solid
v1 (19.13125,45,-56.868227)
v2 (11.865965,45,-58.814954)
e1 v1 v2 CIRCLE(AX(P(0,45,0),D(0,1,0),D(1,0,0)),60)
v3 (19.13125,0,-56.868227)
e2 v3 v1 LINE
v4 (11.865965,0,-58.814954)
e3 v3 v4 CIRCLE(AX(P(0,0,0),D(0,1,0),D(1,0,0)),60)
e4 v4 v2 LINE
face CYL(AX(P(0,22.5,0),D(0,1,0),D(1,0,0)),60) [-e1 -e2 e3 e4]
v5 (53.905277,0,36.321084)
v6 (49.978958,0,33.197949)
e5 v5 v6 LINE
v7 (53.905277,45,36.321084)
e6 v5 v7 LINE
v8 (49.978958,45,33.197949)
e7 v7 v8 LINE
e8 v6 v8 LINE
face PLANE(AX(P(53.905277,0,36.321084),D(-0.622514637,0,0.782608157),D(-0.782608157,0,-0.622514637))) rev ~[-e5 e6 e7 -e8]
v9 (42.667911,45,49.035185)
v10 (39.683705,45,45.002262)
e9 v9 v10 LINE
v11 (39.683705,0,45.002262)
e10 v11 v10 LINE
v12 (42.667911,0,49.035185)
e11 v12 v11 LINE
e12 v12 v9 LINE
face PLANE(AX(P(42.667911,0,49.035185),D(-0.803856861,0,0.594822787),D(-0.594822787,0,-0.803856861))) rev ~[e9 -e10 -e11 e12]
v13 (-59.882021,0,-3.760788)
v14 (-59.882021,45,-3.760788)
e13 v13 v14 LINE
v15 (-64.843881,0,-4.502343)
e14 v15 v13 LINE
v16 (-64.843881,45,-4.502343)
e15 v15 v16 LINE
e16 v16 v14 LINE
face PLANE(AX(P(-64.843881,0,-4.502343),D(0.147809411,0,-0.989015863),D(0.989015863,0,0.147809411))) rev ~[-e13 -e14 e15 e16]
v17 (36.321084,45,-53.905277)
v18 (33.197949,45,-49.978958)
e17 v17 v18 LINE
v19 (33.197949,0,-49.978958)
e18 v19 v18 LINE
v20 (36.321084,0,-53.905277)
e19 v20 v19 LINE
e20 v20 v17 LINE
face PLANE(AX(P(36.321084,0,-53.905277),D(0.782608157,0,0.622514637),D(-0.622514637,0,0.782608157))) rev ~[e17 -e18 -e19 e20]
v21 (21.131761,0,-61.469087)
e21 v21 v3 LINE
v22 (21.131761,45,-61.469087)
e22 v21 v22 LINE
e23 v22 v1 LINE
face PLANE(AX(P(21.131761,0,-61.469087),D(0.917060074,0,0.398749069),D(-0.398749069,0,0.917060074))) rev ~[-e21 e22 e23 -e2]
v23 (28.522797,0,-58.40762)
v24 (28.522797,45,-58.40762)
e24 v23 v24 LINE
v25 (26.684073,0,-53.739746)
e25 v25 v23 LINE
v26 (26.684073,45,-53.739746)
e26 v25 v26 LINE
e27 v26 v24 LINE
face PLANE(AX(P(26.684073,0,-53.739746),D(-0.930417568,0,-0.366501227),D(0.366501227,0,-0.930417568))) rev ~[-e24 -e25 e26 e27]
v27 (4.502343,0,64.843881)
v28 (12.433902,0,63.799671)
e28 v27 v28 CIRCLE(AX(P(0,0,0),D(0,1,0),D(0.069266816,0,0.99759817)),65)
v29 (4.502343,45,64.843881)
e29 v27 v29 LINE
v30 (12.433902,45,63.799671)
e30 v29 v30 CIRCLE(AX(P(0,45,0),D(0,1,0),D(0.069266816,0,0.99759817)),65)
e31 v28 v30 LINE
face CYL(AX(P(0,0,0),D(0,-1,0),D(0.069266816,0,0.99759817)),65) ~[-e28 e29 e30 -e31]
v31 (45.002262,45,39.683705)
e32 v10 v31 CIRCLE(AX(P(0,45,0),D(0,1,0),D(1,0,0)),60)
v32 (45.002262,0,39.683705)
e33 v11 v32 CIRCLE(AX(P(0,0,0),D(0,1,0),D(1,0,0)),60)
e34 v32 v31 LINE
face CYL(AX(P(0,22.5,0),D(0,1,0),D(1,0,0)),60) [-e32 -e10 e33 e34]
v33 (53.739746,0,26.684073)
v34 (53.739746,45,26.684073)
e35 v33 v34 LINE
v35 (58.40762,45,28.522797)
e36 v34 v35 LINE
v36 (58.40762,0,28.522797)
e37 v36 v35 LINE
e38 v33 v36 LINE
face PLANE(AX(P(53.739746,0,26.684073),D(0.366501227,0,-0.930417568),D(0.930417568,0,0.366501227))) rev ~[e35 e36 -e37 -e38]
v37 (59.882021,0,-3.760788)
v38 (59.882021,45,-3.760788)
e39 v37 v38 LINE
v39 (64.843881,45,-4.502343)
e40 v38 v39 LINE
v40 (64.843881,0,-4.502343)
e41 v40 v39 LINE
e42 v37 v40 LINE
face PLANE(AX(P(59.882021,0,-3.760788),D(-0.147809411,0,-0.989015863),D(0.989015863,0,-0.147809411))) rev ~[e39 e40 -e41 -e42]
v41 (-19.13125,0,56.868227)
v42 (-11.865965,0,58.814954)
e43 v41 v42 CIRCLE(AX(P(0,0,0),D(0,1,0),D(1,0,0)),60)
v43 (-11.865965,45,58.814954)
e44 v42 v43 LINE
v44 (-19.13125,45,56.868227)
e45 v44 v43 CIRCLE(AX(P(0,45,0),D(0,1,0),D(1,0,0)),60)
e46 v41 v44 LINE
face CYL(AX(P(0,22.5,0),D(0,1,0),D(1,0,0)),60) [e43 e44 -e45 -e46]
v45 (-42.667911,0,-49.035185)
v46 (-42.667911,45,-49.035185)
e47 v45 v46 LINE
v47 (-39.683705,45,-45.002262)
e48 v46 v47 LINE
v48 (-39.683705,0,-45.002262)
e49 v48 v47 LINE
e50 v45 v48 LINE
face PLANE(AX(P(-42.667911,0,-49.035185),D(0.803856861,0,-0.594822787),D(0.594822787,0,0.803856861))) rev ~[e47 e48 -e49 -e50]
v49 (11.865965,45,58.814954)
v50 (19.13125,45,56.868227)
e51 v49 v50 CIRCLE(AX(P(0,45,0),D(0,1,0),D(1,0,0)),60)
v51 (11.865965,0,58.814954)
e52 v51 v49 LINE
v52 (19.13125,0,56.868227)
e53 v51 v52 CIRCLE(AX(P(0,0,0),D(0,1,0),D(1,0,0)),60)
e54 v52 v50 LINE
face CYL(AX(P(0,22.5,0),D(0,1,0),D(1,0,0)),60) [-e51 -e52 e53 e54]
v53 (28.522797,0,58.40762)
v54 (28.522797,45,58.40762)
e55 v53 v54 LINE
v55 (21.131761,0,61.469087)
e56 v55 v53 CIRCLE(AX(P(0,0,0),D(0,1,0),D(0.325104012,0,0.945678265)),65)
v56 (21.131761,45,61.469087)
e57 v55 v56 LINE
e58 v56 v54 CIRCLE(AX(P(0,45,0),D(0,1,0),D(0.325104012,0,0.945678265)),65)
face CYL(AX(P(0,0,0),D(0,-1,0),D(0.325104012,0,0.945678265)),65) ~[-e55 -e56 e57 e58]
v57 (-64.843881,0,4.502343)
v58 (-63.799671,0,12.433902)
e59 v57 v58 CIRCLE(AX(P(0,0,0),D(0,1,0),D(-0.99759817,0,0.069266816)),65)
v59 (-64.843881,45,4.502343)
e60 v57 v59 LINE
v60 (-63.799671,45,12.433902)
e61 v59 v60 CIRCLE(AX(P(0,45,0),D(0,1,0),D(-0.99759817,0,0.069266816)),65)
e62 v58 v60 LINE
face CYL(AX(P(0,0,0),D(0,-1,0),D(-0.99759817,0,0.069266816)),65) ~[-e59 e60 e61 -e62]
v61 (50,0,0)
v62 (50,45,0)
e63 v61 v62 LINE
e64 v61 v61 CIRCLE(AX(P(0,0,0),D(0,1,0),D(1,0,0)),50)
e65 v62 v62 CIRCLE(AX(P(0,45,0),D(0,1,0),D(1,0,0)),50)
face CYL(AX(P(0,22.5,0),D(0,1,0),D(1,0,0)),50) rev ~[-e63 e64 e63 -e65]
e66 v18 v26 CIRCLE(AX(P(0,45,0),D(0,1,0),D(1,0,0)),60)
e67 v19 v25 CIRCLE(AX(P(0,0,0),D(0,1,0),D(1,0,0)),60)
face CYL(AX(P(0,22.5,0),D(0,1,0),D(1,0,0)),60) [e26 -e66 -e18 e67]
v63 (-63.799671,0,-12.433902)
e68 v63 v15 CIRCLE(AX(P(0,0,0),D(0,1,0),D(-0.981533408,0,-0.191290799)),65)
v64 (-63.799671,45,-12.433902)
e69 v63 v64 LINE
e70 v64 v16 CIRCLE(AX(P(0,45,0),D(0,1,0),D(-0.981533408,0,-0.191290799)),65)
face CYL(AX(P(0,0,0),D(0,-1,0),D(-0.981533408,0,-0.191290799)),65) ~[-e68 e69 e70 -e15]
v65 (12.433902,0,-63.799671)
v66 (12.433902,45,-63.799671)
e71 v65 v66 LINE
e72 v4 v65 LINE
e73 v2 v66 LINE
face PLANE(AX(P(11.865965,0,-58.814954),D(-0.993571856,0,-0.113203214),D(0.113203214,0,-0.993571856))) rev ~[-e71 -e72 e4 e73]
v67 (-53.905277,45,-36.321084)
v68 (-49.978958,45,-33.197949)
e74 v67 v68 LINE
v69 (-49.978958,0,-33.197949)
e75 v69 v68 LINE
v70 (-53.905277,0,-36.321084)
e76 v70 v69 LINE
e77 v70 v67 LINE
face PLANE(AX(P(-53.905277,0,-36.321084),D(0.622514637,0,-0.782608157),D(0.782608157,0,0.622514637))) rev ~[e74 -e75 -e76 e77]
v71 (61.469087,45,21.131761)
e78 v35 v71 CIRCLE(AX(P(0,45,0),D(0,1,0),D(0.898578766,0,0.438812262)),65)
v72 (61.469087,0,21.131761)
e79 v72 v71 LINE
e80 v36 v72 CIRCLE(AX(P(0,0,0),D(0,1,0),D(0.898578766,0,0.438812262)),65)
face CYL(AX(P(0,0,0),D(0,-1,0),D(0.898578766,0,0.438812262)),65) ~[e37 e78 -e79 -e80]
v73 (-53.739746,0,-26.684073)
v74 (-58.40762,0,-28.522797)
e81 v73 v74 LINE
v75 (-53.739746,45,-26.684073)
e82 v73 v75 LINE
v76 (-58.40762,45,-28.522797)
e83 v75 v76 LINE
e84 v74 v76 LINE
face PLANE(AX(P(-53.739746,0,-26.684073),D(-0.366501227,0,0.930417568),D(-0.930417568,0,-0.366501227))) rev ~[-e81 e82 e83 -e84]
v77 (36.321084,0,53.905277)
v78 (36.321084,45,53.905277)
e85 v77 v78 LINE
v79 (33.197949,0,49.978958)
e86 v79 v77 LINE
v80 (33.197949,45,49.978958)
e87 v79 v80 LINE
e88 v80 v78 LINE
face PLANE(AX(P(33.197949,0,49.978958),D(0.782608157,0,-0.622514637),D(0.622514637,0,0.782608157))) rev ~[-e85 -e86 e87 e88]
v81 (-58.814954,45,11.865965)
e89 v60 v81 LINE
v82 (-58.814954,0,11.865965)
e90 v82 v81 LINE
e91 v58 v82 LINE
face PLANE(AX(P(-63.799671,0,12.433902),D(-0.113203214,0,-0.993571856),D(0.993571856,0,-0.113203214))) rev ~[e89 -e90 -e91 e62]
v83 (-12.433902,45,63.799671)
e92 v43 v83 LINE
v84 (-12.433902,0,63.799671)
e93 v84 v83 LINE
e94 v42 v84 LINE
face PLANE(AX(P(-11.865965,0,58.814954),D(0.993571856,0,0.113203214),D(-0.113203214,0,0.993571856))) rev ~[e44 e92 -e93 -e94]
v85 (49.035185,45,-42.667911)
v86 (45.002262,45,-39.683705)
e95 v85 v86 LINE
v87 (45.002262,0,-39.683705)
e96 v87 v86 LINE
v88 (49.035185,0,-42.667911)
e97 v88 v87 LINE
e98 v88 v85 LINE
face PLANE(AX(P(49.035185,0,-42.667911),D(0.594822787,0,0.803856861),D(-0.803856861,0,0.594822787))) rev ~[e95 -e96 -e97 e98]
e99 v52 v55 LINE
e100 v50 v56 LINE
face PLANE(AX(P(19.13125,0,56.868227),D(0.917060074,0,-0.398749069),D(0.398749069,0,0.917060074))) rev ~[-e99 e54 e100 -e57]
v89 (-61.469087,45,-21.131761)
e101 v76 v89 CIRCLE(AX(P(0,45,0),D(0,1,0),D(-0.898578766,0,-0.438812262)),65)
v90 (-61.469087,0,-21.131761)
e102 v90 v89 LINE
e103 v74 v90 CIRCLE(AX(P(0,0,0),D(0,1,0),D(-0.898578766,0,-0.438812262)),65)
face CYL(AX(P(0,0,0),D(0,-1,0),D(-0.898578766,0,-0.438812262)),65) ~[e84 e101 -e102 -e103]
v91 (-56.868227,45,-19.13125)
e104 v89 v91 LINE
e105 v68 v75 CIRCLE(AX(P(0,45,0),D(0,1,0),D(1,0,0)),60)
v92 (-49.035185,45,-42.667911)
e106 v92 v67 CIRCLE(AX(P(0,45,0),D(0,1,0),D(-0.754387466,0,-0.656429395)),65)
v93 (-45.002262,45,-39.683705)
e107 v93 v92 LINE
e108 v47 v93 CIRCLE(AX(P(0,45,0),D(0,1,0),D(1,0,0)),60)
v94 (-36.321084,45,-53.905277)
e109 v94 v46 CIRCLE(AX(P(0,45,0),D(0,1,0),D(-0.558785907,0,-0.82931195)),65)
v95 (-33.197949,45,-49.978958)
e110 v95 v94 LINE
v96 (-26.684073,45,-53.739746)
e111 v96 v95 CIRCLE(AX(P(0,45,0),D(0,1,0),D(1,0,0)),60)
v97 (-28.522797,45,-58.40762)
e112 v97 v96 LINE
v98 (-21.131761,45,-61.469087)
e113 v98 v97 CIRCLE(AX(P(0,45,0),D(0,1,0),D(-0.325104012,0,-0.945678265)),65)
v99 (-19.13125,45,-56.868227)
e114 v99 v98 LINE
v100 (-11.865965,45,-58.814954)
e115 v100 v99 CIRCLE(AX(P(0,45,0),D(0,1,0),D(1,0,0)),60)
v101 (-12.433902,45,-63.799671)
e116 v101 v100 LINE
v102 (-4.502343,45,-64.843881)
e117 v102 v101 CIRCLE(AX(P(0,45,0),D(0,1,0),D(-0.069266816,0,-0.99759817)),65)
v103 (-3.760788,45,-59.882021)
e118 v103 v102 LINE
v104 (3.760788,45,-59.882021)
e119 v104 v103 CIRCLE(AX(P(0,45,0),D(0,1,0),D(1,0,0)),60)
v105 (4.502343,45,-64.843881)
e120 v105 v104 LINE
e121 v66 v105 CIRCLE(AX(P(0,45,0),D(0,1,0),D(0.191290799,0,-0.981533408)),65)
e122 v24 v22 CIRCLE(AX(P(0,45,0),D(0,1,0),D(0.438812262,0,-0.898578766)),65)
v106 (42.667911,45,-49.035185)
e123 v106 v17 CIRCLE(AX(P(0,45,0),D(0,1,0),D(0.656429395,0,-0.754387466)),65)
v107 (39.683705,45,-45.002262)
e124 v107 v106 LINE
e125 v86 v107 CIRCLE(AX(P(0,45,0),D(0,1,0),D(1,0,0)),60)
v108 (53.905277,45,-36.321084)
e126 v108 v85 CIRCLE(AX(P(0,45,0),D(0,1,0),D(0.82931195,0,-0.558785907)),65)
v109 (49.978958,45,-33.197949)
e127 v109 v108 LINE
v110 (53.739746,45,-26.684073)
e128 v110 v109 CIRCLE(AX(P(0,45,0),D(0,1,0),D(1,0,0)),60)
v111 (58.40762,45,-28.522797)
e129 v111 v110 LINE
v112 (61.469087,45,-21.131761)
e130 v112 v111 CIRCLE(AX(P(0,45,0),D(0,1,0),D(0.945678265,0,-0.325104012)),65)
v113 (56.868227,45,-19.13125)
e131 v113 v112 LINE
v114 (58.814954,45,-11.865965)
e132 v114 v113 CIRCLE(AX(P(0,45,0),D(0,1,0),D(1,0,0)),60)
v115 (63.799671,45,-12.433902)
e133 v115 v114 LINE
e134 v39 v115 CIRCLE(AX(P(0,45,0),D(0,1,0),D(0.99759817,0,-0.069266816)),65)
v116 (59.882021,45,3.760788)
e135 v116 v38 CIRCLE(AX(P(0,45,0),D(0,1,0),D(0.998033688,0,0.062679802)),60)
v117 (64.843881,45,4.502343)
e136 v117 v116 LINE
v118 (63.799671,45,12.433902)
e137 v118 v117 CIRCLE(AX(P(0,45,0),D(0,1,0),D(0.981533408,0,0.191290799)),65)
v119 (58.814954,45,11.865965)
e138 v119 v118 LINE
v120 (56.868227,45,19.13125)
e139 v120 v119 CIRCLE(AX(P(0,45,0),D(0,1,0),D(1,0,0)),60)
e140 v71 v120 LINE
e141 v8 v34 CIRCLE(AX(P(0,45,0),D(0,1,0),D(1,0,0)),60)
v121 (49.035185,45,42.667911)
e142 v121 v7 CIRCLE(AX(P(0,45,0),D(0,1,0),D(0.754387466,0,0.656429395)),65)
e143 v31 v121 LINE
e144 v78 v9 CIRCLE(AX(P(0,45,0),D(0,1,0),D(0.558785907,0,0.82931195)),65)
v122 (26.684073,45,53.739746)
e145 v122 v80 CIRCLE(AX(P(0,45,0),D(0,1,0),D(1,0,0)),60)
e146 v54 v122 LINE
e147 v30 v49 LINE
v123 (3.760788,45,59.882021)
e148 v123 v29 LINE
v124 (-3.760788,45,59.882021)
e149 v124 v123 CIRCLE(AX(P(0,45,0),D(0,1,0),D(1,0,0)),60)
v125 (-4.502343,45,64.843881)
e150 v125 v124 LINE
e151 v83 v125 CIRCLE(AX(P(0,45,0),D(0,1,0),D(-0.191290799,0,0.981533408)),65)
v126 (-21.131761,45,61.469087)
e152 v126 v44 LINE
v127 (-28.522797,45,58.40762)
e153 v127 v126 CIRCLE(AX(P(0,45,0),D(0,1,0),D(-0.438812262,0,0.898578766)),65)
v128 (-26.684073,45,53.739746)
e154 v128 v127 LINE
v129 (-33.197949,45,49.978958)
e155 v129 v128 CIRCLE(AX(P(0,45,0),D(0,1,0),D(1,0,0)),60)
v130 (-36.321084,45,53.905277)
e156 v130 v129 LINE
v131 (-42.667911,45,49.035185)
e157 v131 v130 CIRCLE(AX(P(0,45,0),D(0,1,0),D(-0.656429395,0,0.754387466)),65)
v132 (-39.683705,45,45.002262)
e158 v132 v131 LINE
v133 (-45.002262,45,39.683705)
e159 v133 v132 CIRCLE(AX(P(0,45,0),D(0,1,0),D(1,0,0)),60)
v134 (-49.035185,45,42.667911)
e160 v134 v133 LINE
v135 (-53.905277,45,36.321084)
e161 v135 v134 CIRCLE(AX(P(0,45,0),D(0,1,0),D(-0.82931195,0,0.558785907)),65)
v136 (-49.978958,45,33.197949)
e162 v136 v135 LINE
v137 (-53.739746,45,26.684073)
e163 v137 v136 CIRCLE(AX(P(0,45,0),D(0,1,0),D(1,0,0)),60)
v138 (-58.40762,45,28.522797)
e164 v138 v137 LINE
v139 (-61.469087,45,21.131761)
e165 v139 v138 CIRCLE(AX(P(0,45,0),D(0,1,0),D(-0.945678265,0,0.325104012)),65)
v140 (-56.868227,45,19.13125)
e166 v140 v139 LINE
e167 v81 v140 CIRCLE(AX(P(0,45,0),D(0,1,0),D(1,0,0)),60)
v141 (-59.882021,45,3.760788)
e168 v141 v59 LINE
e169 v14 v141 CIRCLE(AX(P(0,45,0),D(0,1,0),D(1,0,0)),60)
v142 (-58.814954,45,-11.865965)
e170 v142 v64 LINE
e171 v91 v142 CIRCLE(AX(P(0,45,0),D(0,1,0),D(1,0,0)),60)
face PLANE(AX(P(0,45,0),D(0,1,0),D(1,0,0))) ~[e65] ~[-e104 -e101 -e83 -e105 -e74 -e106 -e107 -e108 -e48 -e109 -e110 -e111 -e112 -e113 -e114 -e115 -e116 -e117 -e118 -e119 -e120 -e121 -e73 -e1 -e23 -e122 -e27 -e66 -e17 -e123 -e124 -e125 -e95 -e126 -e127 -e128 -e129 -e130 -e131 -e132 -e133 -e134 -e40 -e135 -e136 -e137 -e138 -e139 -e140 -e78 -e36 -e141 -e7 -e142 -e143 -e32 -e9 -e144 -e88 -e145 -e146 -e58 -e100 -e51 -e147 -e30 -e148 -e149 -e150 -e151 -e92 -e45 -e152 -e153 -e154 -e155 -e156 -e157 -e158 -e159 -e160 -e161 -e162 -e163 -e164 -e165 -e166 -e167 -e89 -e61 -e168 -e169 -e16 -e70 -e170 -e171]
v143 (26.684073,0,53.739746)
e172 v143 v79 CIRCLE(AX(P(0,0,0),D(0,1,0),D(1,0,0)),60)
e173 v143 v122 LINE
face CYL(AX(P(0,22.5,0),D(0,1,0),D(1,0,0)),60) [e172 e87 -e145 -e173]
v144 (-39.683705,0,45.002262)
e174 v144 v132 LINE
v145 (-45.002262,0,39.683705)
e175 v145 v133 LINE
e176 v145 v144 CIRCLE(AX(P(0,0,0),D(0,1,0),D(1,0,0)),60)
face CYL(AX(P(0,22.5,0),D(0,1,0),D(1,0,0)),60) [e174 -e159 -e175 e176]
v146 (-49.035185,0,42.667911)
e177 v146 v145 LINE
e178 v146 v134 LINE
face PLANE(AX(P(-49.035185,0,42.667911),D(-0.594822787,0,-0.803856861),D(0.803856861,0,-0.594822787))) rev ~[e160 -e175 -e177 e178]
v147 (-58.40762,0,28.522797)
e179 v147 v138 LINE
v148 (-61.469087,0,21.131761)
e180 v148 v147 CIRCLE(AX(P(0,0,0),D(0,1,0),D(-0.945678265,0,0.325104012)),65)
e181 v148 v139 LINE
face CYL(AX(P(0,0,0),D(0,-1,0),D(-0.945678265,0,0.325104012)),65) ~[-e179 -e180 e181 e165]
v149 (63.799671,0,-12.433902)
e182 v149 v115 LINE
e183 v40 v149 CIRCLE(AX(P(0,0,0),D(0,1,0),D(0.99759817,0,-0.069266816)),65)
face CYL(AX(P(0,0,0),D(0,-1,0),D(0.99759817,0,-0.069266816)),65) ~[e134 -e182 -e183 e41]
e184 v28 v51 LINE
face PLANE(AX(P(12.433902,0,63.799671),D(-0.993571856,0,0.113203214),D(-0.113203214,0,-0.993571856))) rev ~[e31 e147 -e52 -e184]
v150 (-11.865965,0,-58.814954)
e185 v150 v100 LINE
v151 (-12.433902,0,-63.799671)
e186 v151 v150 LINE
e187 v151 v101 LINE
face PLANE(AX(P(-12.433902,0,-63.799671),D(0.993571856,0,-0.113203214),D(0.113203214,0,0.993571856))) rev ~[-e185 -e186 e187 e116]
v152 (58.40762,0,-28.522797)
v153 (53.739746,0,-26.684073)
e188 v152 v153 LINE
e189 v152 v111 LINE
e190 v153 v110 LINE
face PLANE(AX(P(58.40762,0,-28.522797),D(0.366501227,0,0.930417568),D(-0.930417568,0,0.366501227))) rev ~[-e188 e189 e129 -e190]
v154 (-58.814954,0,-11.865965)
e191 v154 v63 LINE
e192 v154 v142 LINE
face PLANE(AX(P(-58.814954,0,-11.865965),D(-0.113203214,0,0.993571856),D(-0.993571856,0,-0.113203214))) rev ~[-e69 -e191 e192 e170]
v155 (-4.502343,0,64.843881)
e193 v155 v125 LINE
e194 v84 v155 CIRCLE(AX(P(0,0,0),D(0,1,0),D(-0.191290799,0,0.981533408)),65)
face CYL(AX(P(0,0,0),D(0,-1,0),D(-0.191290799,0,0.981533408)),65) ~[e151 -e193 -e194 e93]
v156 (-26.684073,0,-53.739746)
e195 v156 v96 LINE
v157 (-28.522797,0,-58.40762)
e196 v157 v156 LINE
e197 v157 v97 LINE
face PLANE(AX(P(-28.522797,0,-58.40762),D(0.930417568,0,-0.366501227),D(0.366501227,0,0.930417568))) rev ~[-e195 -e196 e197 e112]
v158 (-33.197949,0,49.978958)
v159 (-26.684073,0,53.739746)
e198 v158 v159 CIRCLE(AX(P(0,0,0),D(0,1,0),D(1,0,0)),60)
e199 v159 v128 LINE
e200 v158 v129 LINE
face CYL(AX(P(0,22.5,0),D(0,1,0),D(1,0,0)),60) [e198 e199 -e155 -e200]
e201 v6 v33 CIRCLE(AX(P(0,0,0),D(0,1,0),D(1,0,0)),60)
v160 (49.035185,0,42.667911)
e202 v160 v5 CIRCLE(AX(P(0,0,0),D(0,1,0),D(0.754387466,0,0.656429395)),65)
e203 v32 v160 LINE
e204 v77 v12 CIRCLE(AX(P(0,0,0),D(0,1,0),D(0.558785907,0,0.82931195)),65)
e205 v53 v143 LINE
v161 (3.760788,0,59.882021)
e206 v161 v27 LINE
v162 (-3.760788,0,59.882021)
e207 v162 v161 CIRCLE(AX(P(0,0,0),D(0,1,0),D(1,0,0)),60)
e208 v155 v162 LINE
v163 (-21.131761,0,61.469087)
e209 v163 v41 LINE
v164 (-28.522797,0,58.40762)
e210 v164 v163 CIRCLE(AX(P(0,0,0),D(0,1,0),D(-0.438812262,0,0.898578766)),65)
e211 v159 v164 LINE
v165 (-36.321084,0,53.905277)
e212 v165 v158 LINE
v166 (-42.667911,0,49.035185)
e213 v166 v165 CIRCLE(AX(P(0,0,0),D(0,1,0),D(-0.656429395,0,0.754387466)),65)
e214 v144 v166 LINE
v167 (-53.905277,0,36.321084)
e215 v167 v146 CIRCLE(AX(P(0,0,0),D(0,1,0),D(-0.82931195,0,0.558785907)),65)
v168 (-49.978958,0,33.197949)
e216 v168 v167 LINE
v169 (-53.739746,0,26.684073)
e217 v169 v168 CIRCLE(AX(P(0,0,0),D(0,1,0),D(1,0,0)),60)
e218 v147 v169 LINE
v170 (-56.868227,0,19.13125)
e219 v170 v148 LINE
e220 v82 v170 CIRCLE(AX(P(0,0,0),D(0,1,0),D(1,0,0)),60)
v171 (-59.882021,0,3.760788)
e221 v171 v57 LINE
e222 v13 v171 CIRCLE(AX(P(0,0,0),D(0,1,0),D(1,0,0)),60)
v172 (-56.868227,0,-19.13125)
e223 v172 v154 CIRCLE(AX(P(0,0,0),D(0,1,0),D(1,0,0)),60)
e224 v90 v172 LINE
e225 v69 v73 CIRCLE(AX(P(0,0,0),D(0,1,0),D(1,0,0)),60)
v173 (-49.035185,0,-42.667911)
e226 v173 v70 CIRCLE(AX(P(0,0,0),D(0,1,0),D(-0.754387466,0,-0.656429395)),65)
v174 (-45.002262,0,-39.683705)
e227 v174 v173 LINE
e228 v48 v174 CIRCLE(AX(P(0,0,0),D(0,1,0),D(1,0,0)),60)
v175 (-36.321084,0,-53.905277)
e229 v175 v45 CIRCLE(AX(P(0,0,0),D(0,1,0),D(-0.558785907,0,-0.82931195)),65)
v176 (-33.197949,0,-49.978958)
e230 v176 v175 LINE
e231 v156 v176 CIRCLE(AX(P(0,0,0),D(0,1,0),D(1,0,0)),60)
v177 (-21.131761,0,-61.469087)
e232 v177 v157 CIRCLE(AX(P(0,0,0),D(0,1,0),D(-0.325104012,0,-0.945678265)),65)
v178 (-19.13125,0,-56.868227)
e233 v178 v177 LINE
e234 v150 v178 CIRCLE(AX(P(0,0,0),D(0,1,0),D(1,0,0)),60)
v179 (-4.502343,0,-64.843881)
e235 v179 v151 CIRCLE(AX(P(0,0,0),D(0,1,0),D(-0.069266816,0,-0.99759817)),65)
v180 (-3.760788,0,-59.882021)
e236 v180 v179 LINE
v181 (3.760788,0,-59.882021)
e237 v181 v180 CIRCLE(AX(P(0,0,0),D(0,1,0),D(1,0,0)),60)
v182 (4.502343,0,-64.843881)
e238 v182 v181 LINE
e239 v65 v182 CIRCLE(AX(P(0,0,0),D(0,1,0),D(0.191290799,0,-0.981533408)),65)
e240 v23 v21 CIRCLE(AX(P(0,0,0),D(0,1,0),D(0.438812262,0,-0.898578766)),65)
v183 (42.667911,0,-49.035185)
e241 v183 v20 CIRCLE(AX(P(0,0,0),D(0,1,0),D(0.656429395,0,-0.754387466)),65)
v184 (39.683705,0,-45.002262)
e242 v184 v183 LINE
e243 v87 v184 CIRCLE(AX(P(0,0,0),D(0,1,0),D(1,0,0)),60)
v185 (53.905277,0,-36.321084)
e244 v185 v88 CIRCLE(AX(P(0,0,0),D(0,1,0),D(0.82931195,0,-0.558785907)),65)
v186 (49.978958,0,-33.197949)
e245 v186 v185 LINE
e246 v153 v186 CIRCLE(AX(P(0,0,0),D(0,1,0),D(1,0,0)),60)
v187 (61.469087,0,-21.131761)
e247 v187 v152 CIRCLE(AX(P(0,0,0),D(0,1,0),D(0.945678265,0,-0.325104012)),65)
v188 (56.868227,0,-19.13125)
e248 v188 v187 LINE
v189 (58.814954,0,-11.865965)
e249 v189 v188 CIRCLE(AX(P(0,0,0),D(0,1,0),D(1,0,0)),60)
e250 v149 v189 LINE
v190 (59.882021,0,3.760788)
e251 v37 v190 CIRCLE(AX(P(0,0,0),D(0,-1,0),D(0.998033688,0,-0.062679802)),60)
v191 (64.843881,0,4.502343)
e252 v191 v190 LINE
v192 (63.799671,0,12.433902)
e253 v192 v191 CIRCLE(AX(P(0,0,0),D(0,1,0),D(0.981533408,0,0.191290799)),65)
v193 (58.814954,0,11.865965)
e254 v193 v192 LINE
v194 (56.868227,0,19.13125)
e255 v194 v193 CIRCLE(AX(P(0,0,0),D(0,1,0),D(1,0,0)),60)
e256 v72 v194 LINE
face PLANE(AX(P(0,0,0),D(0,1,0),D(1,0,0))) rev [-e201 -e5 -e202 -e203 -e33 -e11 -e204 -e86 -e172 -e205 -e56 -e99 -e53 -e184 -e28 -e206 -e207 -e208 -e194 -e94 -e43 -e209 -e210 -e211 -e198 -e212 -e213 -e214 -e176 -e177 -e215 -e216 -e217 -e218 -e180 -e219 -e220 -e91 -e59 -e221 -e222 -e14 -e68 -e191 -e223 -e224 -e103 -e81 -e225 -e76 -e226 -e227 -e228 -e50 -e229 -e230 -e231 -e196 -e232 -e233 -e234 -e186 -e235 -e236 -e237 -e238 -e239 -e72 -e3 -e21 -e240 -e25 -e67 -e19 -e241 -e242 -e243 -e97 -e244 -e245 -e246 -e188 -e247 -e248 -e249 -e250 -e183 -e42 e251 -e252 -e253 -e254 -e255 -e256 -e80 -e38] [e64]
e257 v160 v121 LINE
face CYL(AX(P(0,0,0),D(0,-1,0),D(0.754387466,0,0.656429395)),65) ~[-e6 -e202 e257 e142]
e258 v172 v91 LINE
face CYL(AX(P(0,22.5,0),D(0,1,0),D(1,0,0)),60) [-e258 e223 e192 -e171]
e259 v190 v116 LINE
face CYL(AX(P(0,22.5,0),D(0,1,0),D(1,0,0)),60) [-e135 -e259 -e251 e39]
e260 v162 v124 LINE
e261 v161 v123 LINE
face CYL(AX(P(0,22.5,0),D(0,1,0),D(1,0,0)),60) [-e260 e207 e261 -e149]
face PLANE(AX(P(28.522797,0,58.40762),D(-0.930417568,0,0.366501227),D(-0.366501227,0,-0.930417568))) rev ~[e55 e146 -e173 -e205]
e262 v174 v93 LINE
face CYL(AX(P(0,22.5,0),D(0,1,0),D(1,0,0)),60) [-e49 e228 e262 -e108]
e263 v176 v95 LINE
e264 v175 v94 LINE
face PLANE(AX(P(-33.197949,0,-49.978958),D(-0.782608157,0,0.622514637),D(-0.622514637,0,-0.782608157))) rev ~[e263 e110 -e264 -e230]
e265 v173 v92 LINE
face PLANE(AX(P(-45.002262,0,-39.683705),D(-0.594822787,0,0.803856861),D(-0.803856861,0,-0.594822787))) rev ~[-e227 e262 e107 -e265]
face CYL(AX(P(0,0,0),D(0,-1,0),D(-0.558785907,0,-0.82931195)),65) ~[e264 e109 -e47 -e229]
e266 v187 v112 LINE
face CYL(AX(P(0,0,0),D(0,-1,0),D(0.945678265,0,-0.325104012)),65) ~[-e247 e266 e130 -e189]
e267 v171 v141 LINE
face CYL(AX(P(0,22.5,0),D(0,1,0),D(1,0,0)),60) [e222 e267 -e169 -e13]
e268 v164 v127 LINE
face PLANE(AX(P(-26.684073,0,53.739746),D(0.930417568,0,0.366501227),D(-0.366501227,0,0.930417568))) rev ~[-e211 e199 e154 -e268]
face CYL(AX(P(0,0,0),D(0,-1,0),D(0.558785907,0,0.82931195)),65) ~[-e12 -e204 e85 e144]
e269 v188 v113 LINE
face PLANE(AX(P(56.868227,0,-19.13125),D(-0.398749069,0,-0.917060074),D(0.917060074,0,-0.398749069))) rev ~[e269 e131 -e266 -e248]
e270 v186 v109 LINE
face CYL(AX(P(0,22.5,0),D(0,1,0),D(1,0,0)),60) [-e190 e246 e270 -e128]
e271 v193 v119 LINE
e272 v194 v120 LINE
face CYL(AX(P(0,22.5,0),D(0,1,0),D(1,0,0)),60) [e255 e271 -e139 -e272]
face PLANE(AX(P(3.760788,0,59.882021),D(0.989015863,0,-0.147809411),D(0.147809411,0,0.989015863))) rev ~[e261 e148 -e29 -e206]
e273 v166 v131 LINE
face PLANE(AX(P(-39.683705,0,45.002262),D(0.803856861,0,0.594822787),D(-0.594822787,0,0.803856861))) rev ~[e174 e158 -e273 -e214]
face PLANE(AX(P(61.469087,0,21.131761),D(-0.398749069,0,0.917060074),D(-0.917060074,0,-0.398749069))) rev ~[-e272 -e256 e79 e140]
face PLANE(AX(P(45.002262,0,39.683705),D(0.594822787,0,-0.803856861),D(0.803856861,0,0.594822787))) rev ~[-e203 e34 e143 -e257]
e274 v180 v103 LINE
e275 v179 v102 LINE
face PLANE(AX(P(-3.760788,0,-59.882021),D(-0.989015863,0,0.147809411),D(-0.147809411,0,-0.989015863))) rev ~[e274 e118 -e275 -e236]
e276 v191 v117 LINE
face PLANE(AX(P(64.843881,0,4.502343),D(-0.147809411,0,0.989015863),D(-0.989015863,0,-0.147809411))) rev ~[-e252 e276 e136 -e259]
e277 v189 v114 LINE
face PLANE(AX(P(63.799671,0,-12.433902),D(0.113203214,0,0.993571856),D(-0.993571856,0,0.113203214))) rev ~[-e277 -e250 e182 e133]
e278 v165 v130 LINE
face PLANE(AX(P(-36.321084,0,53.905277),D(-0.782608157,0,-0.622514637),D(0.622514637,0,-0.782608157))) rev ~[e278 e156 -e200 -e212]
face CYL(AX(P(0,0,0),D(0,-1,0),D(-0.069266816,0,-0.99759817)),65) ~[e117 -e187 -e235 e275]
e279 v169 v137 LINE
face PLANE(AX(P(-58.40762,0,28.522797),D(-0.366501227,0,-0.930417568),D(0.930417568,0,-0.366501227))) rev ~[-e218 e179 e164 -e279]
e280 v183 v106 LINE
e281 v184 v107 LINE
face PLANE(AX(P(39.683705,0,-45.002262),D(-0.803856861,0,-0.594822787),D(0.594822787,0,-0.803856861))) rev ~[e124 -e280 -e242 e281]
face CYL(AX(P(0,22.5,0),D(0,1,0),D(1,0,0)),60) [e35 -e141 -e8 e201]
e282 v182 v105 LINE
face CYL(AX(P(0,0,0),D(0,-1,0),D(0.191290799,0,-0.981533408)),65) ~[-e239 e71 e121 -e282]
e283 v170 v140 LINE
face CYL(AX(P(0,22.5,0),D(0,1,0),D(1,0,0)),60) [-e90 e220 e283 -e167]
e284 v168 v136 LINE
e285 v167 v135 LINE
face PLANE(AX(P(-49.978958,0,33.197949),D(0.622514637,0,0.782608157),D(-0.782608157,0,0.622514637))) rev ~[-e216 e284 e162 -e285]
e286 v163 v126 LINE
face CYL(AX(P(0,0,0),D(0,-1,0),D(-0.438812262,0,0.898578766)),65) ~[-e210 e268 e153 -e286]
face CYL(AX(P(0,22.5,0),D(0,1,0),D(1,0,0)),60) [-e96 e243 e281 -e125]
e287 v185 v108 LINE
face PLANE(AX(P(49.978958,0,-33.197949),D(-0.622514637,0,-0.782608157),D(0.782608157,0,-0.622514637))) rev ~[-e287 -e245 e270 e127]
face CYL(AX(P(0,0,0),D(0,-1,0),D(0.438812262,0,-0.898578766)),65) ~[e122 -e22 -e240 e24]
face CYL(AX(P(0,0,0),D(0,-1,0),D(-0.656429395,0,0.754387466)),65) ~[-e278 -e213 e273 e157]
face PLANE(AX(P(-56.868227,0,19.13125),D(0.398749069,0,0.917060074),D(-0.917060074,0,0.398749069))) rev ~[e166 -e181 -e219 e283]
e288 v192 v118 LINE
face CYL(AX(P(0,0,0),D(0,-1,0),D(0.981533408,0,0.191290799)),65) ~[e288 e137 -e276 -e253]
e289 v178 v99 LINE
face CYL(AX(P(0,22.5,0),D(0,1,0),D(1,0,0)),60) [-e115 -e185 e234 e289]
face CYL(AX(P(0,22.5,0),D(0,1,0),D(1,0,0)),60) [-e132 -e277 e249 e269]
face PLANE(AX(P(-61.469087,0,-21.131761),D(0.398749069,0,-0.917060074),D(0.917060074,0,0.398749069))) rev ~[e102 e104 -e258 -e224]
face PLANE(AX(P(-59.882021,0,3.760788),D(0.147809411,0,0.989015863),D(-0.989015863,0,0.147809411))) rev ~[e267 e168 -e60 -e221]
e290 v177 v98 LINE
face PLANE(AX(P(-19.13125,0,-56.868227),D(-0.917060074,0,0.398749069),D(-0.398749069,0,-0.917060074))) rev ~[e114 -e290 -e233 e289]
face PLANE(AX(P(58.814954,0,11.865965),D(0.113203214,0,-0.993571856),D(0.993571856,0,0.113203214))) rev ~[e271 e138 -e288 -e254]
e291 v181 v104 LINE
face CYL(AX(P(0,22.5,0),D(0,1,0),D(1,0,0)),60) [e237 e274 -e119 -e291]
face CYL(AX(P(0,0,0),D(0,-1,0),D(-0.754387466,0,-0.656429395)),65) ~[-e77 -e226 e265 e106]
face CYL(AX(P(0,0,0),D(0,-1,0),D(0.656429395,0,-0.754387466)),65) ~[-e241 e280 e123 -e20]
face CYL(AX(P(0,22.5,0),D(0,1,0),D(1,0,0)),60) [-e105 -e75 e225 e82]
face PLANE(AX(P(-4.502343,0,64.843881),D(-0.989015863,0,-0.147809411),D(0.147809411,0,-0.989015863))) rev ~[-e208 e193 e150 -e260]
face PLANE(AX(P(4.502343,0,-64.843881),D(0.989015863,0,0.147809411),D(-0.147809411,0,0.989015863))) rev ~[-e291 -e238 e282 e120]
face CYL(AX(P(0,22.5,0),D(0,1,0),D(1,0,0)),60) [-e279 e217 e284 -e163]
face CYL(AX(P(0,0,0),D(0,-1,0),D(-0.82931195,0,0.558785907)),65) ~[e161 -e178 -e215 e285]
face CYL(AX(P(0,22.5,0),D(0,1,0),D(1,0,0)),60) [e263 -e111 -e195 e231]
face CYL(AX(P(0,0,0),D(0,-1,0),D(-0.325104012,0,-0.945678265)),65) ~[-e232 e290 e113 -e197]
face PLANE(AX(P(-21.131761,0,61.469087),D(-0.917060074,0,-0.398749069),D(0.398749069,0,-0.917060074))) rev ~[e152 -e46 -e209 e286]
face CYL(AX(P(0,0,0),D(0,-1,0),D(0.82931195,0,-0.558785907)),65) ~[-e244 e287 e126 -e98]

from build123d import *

# Parameters (mm, degrees)
SKETCH2_W           = 10
SKETCH2_H           = 45
BOSS_EXTRUDE1_DEPTH = 45


with BuildPart() as part:
    # Sketch2 → Revolve1 (revolve)
    with BuildSketch(Plane.XY):
        with Locations((55, 22.5)):
            Rectangle(SKETCH2_W, SKETCH2_H)
    revolve(axis=Axis((0, -1000, 0), (0, 1, 0)))

    # Sketch3 → Boss-Extrude1 (add)
    with BuildSketch(Plane(origin=(0, 0, 0), x_dir=(1, 0, 0), z_dir=(0, 1, 0))):
        with BuildLine():
            Line((4.502343049, 64.84388103), (3.76078814, 59.88202128))
            ThreePointArc((3.76078814, 59.88202128), (7.831571533, 59.486691682), (11.865965175, 58.81495448))
            Line((11.865965175, 58.81495448), (12.43390194, 63.799671493))
            ThreePointArc((12.43390194, 63.799671493), (8.484202494, 64.443915989), (4.502343049, 64.84388103))
        make_face()
        with BuildLine():
            Line((21.131760798, 61.469087235), (19.131249958, 56.868227289))
            ThreePointArc((19.131249958, 56.868227289), (22.961005942, 55.432771951), (26.684072572, 53.739745728))
            Line((26.684072572, 53.739745728), (28.522797059, 58.407619777))
            ThreePointArc((28.522797059, 58.407619777), (24.874423104, 60.052169613), (21.131760798, 61.469087235))
        make_face()
        with BuildLine():
            Line((36.321083972, 53.905276728), (33.197948708, 49.978957588))
            ThreePointArc((33.197948708, 49.978957588), (36.525685741, 47.601200417), (39.683704522, 45.002262115))
            Line((39.683704522, 45.002262115), (42.667910694, 49.035185296))
            ThreePointArc((42.667910694, 49.035185296), (39.569492886, 51.567967119), (36.321083972, 53.905276728))
        make_face()
        with BuildLine():
            Line((49.035185296, 42.667910694), (45.002262115, 39.683704522))
            ThreePointArc((45.002262115, 39.683704522), (47.601200417, 36.525685741), (49.978957588, 33.197948708))
            Line((49.978957588, 33.197948708), (53.905276728, 36.321083972))
            ThreePointArc((53.905276728, 36.321083972), (51.567967119, 39.569492886), (49.035185296, 42.667910694))
        make_face()
        with BuildLine():
            Line((58.407619777, 28.522797059), (53.739745728, 26.684072572))
            ThreePointArc((53.739745728, 26.684072572), (55.432771951, 22.961005942), (56.868227289, 19.131249958))
            Line((56.868227289, 19.131249958), (61.469087235, 21.131760798))
            ThreePointArc((61.469087235, 21.131760798), (60.052169613, 24.874423104), (58.407619777, 28.522797059))
        make_face()
        with BuildLine():
            Line((63.799671493, 12.43390194), (58.81495448, 11.865965175))
            ThreePointArc((58.81495448, 11.865965175), (59.486691682, 7.831571533), (59.88202128, 3.76078814))
            Line((59.88202128, 3.76078814), (64.84388103, 4.502343049))
            ThreePointArc((64.84388103, 4.502343049), (64.443915989, 8.484202494), (63.799671493, 12.43390194))
        make_face()
        with BuildLine():
            Line((64.84388103, -4.502343049), (59.88202128, -3.76078814))
            ThreePointArc((59.88202128, -3.76078814), (59.486691682, -7.831571533), (58.81495448, -11.865965175))
            Line((58.81495448, -11.865965175), (63.799671493, -12.43390194))
            ThreePointArc((63.799671493, -12.43390194), (64.443915989, -8.484202494), (64.84388103, -4.502343049))
        make_face()
        with BuildLine():
            Line((61.469087235, -21.131760798), (56.868227289, -19.131249958))
            ThreePointArc((56.868227289, -19.131249958), (55.432771951, -22.961005942), (53.739745728, -26.684072572))
            Line((53.739745728, -26.684072572), (58.407619777, -28.522797059))
            ThreePointArc((58.407619777, -28.522797059), (60.052169613, -24.874423104), (61.469087235, -21.131760798))
        make_face()
        with BuildLine():
            Line((53.905276728, -36.321083972), (49.978957588, -33.197948708))
            ThreePointArc((49.978957588, -33.197948708), (47.601200417, -36.525685741), (45.002262115, -39.683704522))
            Line((45.002262115, -39.683704522), (49.035185296, -42.667910694))
            ThreePointArc((49.035185296, -42.667910694), (51.567967119, -39.569492886), (53.905276728, -36.321083972))
        make_face()
        with BuildLine():
            Line((42.667910694, -49.035185296), (39.683704522, -45.002262115))
            ThreePointArc((39.683704522, -45.002262115), (36.525685741, -47.601200417), (33.197948708, -49.978957588))
            Line((33.197948708, -49.978957588), (36.321083972, -53.905276728))
            ThreePointArc((36.321083972, -53.905276728), (39.569492886, -51.567967119), (42.667910694, -49.035185296))
        make_face()
        with BuildLine():
            Line((28.522797059, -58.407619777), (26.684072572, -53.739745728))
            ThreePointArc((26.684072572, -53.739745728), (22.961005942, -55.432771951), (19.131249958, -56.868227289))
            Line((19.131249958, -56.868227289), (21.131760798, -61.469087235))
            ThreePointArc((21.131760798, -61.469087235), (24.874423104, -60.052169613), (28.522797059, -58.407619777))
        make_face()
        with BuildLine():
            Line((12.43390194, -63.799671493), (11.865965175, -58.81495448))
            ThreePointArc((11.865965175, -58.81495448), (7.831571533, -59.486691682), (3.76078814, -59.88202128))
            Line((3.76078814, -59.88202128), (4.502343049, -64.84388103))
            ThreePointArc((4.502343049, -64.84388103), (8.484202494, -64.443915989), (12.43390194, -63.799671493))
        make_face()
        with BuildLine():
            Line((-4.502343049, -64.84388103), (-3.76078814, -59.88202128))
            ThreePointArc((-3.76078814, -59.88202128), (-7.831571533, -59.486691682), (-11.865965175, -58.81495448))
            Line((-11.865965175, -58.81495448), (-12.43390194, -63.799671493))
            ThreePointArc((-12.43390194, -63.799671493), (-8.484202494, -64.443915989), (-4.502343049, -64.84388103))
        make_face()
        with BuildLine():
            Line((-21.131760798, -61.469087235), (-19.131249958, -56.868227289))
            ThreePointArc((-19.131249958, -56.868227289), (-22.961005942, -55.432771951), (-26.684072572, -53.739745728))
            Line((-26.684072572, -53.739745728), (-28.522797059, -58.407619777))
            ThreePointArc((-28.522797059, -58.407619777), (-24.874423104, -60.052169613), (-21.131760798, -61.469087235))
        make_face()
        with BuildLine():
            Line((-36.321083972, -53.905276728), (-33.197948708, -49.978957588))
            ThreePointArc((-33.197948708, -49.978957588), (-36.525685741, -47.601200417), (-39.683704522, -45.002262115))
            Line((-39.683704522, -45.002262115), (-42.667910694, -49.035185296))
            ThreePointArc((-42.667910694, -49.035185296), (-39.569492886, -51.567967119), (-36.321083972, -53.905276728))
        make_face()
        with BuildLine():
            Line((-49.035185296, -42.667910694), (-45.002262115, -39.683704522))
            ThreePointArc((-45.002262115, -39.683704522), (-47.601200417, -36.525685741), (-49.978957588, -33.197948708))
            Line((-49.978957588, -33.197948708), (-53.905276728, -36.321083972))
            ThreePointArc((-53.905276728, -36.321083972), (-51.567967119, -39.569492886), (-49.035185296, -42.667910694))
        make_face()
        with BuildLine():
            Line((-58.407619777, -28.522797059), (-53.739745728, -26.684072572))
            ThreePointArc((-53.739745728, -26.684072572), (-55.432771951, -22.961005942), (-56.868227289, -19.131249958))
            Line((-56.868227289, -19.131249958), (-61.469087235, -21.131760798))
            ThreePointArc((-61.469087235, -21.131760798), (-60.052169613, -24.874423104), (-58.407619777, -28.522797059))
        make_face()
        with BuildLine():
            Line((-63.799671493, -12.43390194), (-58.81495448, -11.865965175))
            ThreePointArc((-58.81495448, -11.865965175), (-59.486691682, -7.831571533), (-59.88202128, -3.76078814))
            Line((-59.88202128, -3.76078814), (-64.84388103, -4.502343049))
            ThreePointArc((-64.84388103, -4.502343049), (-64.443915989, -8.484202494), (-63.799671493, -12.43390194))
        make_face()
        with BuildLine():
            Line((-64.84388103, 4.502343049), (-59.88202128, 3.76078814))
            ThreePointArc((-59.88202128, 3.76078814), (-59.486691682, 7.831571533), (-58.81495448, 11.865965175))
            Line((-58.81495448, 11.865965175), (-63.799671493, 12.43390194))
            ThreePointArc((-63.799671493, 12.43390194), (-64.443915989, 8.484202494), (-64.84388103, 4.502343049))
        make_face()
        with BuildLine():
            Line((-61.469087235, 21.131760798), (-56.868227289, 19.131249958))
            ThreePointArc((-56.868227289, 19.131249958), (-55.432771951, 22.961005942), (-53.739745728, 26.684072572))
            Line((-53.739745728, 26.684072572), (-58.407619777, 28.522797059))
            ThreePointArc((-58.407619777, 28.522797059), (-60.052169613, 24.874423104), (-61.469087235, 21.131760798))
        make_face()
        with BuildLine():
            Line((-53.905276728, 36.321083972), (-49.978957588, 33.197948708))
            ThreePointArc((-49.978957588, 33.197948708), (-47.601200417, 36.525685741), (-45.002262115, 39.683704522))
            Line((-45.002262115, 39.683704522), (-49.035185296, 42.667910694))
            ThreePointArc((-49.035185296, 42.667910694), (-51.567967119, 39.569492886), (-53.905276728, 36.321083972))
        make_face()
        with BuildLine():
            Line((-42.667910694, 49.035185296), (-39.683704522, 45.002262115))
            ThreePointArc((-39.683704522, 45.002262115), (-36.525685741, 47.601200417), (-33.197948708, 49.978957588))
            Line((-33.197948708, 49.978957588), (-36.321083972, 53.905276728))
            ThreePointArc((-36.321083972, 53.905276728), (-39.569492886, 51.567967119), (-42.667910694, 49.035185296))
        make_face()
        with BuildLine():
            Line((-28.522797059, 58.407619777), (-26.684072572, 53.739745728))
            ThreePointArc((-26.684072572, 53.739745728), (-22.961005942, 55.432771951), (-19.131249958, 56.868227289))
            Line((-19.131249958, 56.868227289), (-21.131760798, 61.469087235))
            ThreePointArc((-21.131760798, 61.469087235), (-24.874423104, 60.052169613), (-28.522797059, 58.407619777))
        make_face()
        with BuildLine():
            Line((-12.43390194, 63.799671493), (-11.865965175, 58.81495448))
            ThreePointArc((-11.865965175, 58.81495448), (-7.831571533, 59.486691682), (-3.76078814, 59.88202128))
            Line((-3.76078814, 59.88202128), (-4.502343049, 64.84388103))
            ThreePointArc((-4.502343049, 64.84388103), (-8.484202494, 64.443915989), (-12.43390194, 63.799671493))
        make_face()
    extrude(amount=BOSS_EXTRUDE1_DEPTH)


solid = part.part
